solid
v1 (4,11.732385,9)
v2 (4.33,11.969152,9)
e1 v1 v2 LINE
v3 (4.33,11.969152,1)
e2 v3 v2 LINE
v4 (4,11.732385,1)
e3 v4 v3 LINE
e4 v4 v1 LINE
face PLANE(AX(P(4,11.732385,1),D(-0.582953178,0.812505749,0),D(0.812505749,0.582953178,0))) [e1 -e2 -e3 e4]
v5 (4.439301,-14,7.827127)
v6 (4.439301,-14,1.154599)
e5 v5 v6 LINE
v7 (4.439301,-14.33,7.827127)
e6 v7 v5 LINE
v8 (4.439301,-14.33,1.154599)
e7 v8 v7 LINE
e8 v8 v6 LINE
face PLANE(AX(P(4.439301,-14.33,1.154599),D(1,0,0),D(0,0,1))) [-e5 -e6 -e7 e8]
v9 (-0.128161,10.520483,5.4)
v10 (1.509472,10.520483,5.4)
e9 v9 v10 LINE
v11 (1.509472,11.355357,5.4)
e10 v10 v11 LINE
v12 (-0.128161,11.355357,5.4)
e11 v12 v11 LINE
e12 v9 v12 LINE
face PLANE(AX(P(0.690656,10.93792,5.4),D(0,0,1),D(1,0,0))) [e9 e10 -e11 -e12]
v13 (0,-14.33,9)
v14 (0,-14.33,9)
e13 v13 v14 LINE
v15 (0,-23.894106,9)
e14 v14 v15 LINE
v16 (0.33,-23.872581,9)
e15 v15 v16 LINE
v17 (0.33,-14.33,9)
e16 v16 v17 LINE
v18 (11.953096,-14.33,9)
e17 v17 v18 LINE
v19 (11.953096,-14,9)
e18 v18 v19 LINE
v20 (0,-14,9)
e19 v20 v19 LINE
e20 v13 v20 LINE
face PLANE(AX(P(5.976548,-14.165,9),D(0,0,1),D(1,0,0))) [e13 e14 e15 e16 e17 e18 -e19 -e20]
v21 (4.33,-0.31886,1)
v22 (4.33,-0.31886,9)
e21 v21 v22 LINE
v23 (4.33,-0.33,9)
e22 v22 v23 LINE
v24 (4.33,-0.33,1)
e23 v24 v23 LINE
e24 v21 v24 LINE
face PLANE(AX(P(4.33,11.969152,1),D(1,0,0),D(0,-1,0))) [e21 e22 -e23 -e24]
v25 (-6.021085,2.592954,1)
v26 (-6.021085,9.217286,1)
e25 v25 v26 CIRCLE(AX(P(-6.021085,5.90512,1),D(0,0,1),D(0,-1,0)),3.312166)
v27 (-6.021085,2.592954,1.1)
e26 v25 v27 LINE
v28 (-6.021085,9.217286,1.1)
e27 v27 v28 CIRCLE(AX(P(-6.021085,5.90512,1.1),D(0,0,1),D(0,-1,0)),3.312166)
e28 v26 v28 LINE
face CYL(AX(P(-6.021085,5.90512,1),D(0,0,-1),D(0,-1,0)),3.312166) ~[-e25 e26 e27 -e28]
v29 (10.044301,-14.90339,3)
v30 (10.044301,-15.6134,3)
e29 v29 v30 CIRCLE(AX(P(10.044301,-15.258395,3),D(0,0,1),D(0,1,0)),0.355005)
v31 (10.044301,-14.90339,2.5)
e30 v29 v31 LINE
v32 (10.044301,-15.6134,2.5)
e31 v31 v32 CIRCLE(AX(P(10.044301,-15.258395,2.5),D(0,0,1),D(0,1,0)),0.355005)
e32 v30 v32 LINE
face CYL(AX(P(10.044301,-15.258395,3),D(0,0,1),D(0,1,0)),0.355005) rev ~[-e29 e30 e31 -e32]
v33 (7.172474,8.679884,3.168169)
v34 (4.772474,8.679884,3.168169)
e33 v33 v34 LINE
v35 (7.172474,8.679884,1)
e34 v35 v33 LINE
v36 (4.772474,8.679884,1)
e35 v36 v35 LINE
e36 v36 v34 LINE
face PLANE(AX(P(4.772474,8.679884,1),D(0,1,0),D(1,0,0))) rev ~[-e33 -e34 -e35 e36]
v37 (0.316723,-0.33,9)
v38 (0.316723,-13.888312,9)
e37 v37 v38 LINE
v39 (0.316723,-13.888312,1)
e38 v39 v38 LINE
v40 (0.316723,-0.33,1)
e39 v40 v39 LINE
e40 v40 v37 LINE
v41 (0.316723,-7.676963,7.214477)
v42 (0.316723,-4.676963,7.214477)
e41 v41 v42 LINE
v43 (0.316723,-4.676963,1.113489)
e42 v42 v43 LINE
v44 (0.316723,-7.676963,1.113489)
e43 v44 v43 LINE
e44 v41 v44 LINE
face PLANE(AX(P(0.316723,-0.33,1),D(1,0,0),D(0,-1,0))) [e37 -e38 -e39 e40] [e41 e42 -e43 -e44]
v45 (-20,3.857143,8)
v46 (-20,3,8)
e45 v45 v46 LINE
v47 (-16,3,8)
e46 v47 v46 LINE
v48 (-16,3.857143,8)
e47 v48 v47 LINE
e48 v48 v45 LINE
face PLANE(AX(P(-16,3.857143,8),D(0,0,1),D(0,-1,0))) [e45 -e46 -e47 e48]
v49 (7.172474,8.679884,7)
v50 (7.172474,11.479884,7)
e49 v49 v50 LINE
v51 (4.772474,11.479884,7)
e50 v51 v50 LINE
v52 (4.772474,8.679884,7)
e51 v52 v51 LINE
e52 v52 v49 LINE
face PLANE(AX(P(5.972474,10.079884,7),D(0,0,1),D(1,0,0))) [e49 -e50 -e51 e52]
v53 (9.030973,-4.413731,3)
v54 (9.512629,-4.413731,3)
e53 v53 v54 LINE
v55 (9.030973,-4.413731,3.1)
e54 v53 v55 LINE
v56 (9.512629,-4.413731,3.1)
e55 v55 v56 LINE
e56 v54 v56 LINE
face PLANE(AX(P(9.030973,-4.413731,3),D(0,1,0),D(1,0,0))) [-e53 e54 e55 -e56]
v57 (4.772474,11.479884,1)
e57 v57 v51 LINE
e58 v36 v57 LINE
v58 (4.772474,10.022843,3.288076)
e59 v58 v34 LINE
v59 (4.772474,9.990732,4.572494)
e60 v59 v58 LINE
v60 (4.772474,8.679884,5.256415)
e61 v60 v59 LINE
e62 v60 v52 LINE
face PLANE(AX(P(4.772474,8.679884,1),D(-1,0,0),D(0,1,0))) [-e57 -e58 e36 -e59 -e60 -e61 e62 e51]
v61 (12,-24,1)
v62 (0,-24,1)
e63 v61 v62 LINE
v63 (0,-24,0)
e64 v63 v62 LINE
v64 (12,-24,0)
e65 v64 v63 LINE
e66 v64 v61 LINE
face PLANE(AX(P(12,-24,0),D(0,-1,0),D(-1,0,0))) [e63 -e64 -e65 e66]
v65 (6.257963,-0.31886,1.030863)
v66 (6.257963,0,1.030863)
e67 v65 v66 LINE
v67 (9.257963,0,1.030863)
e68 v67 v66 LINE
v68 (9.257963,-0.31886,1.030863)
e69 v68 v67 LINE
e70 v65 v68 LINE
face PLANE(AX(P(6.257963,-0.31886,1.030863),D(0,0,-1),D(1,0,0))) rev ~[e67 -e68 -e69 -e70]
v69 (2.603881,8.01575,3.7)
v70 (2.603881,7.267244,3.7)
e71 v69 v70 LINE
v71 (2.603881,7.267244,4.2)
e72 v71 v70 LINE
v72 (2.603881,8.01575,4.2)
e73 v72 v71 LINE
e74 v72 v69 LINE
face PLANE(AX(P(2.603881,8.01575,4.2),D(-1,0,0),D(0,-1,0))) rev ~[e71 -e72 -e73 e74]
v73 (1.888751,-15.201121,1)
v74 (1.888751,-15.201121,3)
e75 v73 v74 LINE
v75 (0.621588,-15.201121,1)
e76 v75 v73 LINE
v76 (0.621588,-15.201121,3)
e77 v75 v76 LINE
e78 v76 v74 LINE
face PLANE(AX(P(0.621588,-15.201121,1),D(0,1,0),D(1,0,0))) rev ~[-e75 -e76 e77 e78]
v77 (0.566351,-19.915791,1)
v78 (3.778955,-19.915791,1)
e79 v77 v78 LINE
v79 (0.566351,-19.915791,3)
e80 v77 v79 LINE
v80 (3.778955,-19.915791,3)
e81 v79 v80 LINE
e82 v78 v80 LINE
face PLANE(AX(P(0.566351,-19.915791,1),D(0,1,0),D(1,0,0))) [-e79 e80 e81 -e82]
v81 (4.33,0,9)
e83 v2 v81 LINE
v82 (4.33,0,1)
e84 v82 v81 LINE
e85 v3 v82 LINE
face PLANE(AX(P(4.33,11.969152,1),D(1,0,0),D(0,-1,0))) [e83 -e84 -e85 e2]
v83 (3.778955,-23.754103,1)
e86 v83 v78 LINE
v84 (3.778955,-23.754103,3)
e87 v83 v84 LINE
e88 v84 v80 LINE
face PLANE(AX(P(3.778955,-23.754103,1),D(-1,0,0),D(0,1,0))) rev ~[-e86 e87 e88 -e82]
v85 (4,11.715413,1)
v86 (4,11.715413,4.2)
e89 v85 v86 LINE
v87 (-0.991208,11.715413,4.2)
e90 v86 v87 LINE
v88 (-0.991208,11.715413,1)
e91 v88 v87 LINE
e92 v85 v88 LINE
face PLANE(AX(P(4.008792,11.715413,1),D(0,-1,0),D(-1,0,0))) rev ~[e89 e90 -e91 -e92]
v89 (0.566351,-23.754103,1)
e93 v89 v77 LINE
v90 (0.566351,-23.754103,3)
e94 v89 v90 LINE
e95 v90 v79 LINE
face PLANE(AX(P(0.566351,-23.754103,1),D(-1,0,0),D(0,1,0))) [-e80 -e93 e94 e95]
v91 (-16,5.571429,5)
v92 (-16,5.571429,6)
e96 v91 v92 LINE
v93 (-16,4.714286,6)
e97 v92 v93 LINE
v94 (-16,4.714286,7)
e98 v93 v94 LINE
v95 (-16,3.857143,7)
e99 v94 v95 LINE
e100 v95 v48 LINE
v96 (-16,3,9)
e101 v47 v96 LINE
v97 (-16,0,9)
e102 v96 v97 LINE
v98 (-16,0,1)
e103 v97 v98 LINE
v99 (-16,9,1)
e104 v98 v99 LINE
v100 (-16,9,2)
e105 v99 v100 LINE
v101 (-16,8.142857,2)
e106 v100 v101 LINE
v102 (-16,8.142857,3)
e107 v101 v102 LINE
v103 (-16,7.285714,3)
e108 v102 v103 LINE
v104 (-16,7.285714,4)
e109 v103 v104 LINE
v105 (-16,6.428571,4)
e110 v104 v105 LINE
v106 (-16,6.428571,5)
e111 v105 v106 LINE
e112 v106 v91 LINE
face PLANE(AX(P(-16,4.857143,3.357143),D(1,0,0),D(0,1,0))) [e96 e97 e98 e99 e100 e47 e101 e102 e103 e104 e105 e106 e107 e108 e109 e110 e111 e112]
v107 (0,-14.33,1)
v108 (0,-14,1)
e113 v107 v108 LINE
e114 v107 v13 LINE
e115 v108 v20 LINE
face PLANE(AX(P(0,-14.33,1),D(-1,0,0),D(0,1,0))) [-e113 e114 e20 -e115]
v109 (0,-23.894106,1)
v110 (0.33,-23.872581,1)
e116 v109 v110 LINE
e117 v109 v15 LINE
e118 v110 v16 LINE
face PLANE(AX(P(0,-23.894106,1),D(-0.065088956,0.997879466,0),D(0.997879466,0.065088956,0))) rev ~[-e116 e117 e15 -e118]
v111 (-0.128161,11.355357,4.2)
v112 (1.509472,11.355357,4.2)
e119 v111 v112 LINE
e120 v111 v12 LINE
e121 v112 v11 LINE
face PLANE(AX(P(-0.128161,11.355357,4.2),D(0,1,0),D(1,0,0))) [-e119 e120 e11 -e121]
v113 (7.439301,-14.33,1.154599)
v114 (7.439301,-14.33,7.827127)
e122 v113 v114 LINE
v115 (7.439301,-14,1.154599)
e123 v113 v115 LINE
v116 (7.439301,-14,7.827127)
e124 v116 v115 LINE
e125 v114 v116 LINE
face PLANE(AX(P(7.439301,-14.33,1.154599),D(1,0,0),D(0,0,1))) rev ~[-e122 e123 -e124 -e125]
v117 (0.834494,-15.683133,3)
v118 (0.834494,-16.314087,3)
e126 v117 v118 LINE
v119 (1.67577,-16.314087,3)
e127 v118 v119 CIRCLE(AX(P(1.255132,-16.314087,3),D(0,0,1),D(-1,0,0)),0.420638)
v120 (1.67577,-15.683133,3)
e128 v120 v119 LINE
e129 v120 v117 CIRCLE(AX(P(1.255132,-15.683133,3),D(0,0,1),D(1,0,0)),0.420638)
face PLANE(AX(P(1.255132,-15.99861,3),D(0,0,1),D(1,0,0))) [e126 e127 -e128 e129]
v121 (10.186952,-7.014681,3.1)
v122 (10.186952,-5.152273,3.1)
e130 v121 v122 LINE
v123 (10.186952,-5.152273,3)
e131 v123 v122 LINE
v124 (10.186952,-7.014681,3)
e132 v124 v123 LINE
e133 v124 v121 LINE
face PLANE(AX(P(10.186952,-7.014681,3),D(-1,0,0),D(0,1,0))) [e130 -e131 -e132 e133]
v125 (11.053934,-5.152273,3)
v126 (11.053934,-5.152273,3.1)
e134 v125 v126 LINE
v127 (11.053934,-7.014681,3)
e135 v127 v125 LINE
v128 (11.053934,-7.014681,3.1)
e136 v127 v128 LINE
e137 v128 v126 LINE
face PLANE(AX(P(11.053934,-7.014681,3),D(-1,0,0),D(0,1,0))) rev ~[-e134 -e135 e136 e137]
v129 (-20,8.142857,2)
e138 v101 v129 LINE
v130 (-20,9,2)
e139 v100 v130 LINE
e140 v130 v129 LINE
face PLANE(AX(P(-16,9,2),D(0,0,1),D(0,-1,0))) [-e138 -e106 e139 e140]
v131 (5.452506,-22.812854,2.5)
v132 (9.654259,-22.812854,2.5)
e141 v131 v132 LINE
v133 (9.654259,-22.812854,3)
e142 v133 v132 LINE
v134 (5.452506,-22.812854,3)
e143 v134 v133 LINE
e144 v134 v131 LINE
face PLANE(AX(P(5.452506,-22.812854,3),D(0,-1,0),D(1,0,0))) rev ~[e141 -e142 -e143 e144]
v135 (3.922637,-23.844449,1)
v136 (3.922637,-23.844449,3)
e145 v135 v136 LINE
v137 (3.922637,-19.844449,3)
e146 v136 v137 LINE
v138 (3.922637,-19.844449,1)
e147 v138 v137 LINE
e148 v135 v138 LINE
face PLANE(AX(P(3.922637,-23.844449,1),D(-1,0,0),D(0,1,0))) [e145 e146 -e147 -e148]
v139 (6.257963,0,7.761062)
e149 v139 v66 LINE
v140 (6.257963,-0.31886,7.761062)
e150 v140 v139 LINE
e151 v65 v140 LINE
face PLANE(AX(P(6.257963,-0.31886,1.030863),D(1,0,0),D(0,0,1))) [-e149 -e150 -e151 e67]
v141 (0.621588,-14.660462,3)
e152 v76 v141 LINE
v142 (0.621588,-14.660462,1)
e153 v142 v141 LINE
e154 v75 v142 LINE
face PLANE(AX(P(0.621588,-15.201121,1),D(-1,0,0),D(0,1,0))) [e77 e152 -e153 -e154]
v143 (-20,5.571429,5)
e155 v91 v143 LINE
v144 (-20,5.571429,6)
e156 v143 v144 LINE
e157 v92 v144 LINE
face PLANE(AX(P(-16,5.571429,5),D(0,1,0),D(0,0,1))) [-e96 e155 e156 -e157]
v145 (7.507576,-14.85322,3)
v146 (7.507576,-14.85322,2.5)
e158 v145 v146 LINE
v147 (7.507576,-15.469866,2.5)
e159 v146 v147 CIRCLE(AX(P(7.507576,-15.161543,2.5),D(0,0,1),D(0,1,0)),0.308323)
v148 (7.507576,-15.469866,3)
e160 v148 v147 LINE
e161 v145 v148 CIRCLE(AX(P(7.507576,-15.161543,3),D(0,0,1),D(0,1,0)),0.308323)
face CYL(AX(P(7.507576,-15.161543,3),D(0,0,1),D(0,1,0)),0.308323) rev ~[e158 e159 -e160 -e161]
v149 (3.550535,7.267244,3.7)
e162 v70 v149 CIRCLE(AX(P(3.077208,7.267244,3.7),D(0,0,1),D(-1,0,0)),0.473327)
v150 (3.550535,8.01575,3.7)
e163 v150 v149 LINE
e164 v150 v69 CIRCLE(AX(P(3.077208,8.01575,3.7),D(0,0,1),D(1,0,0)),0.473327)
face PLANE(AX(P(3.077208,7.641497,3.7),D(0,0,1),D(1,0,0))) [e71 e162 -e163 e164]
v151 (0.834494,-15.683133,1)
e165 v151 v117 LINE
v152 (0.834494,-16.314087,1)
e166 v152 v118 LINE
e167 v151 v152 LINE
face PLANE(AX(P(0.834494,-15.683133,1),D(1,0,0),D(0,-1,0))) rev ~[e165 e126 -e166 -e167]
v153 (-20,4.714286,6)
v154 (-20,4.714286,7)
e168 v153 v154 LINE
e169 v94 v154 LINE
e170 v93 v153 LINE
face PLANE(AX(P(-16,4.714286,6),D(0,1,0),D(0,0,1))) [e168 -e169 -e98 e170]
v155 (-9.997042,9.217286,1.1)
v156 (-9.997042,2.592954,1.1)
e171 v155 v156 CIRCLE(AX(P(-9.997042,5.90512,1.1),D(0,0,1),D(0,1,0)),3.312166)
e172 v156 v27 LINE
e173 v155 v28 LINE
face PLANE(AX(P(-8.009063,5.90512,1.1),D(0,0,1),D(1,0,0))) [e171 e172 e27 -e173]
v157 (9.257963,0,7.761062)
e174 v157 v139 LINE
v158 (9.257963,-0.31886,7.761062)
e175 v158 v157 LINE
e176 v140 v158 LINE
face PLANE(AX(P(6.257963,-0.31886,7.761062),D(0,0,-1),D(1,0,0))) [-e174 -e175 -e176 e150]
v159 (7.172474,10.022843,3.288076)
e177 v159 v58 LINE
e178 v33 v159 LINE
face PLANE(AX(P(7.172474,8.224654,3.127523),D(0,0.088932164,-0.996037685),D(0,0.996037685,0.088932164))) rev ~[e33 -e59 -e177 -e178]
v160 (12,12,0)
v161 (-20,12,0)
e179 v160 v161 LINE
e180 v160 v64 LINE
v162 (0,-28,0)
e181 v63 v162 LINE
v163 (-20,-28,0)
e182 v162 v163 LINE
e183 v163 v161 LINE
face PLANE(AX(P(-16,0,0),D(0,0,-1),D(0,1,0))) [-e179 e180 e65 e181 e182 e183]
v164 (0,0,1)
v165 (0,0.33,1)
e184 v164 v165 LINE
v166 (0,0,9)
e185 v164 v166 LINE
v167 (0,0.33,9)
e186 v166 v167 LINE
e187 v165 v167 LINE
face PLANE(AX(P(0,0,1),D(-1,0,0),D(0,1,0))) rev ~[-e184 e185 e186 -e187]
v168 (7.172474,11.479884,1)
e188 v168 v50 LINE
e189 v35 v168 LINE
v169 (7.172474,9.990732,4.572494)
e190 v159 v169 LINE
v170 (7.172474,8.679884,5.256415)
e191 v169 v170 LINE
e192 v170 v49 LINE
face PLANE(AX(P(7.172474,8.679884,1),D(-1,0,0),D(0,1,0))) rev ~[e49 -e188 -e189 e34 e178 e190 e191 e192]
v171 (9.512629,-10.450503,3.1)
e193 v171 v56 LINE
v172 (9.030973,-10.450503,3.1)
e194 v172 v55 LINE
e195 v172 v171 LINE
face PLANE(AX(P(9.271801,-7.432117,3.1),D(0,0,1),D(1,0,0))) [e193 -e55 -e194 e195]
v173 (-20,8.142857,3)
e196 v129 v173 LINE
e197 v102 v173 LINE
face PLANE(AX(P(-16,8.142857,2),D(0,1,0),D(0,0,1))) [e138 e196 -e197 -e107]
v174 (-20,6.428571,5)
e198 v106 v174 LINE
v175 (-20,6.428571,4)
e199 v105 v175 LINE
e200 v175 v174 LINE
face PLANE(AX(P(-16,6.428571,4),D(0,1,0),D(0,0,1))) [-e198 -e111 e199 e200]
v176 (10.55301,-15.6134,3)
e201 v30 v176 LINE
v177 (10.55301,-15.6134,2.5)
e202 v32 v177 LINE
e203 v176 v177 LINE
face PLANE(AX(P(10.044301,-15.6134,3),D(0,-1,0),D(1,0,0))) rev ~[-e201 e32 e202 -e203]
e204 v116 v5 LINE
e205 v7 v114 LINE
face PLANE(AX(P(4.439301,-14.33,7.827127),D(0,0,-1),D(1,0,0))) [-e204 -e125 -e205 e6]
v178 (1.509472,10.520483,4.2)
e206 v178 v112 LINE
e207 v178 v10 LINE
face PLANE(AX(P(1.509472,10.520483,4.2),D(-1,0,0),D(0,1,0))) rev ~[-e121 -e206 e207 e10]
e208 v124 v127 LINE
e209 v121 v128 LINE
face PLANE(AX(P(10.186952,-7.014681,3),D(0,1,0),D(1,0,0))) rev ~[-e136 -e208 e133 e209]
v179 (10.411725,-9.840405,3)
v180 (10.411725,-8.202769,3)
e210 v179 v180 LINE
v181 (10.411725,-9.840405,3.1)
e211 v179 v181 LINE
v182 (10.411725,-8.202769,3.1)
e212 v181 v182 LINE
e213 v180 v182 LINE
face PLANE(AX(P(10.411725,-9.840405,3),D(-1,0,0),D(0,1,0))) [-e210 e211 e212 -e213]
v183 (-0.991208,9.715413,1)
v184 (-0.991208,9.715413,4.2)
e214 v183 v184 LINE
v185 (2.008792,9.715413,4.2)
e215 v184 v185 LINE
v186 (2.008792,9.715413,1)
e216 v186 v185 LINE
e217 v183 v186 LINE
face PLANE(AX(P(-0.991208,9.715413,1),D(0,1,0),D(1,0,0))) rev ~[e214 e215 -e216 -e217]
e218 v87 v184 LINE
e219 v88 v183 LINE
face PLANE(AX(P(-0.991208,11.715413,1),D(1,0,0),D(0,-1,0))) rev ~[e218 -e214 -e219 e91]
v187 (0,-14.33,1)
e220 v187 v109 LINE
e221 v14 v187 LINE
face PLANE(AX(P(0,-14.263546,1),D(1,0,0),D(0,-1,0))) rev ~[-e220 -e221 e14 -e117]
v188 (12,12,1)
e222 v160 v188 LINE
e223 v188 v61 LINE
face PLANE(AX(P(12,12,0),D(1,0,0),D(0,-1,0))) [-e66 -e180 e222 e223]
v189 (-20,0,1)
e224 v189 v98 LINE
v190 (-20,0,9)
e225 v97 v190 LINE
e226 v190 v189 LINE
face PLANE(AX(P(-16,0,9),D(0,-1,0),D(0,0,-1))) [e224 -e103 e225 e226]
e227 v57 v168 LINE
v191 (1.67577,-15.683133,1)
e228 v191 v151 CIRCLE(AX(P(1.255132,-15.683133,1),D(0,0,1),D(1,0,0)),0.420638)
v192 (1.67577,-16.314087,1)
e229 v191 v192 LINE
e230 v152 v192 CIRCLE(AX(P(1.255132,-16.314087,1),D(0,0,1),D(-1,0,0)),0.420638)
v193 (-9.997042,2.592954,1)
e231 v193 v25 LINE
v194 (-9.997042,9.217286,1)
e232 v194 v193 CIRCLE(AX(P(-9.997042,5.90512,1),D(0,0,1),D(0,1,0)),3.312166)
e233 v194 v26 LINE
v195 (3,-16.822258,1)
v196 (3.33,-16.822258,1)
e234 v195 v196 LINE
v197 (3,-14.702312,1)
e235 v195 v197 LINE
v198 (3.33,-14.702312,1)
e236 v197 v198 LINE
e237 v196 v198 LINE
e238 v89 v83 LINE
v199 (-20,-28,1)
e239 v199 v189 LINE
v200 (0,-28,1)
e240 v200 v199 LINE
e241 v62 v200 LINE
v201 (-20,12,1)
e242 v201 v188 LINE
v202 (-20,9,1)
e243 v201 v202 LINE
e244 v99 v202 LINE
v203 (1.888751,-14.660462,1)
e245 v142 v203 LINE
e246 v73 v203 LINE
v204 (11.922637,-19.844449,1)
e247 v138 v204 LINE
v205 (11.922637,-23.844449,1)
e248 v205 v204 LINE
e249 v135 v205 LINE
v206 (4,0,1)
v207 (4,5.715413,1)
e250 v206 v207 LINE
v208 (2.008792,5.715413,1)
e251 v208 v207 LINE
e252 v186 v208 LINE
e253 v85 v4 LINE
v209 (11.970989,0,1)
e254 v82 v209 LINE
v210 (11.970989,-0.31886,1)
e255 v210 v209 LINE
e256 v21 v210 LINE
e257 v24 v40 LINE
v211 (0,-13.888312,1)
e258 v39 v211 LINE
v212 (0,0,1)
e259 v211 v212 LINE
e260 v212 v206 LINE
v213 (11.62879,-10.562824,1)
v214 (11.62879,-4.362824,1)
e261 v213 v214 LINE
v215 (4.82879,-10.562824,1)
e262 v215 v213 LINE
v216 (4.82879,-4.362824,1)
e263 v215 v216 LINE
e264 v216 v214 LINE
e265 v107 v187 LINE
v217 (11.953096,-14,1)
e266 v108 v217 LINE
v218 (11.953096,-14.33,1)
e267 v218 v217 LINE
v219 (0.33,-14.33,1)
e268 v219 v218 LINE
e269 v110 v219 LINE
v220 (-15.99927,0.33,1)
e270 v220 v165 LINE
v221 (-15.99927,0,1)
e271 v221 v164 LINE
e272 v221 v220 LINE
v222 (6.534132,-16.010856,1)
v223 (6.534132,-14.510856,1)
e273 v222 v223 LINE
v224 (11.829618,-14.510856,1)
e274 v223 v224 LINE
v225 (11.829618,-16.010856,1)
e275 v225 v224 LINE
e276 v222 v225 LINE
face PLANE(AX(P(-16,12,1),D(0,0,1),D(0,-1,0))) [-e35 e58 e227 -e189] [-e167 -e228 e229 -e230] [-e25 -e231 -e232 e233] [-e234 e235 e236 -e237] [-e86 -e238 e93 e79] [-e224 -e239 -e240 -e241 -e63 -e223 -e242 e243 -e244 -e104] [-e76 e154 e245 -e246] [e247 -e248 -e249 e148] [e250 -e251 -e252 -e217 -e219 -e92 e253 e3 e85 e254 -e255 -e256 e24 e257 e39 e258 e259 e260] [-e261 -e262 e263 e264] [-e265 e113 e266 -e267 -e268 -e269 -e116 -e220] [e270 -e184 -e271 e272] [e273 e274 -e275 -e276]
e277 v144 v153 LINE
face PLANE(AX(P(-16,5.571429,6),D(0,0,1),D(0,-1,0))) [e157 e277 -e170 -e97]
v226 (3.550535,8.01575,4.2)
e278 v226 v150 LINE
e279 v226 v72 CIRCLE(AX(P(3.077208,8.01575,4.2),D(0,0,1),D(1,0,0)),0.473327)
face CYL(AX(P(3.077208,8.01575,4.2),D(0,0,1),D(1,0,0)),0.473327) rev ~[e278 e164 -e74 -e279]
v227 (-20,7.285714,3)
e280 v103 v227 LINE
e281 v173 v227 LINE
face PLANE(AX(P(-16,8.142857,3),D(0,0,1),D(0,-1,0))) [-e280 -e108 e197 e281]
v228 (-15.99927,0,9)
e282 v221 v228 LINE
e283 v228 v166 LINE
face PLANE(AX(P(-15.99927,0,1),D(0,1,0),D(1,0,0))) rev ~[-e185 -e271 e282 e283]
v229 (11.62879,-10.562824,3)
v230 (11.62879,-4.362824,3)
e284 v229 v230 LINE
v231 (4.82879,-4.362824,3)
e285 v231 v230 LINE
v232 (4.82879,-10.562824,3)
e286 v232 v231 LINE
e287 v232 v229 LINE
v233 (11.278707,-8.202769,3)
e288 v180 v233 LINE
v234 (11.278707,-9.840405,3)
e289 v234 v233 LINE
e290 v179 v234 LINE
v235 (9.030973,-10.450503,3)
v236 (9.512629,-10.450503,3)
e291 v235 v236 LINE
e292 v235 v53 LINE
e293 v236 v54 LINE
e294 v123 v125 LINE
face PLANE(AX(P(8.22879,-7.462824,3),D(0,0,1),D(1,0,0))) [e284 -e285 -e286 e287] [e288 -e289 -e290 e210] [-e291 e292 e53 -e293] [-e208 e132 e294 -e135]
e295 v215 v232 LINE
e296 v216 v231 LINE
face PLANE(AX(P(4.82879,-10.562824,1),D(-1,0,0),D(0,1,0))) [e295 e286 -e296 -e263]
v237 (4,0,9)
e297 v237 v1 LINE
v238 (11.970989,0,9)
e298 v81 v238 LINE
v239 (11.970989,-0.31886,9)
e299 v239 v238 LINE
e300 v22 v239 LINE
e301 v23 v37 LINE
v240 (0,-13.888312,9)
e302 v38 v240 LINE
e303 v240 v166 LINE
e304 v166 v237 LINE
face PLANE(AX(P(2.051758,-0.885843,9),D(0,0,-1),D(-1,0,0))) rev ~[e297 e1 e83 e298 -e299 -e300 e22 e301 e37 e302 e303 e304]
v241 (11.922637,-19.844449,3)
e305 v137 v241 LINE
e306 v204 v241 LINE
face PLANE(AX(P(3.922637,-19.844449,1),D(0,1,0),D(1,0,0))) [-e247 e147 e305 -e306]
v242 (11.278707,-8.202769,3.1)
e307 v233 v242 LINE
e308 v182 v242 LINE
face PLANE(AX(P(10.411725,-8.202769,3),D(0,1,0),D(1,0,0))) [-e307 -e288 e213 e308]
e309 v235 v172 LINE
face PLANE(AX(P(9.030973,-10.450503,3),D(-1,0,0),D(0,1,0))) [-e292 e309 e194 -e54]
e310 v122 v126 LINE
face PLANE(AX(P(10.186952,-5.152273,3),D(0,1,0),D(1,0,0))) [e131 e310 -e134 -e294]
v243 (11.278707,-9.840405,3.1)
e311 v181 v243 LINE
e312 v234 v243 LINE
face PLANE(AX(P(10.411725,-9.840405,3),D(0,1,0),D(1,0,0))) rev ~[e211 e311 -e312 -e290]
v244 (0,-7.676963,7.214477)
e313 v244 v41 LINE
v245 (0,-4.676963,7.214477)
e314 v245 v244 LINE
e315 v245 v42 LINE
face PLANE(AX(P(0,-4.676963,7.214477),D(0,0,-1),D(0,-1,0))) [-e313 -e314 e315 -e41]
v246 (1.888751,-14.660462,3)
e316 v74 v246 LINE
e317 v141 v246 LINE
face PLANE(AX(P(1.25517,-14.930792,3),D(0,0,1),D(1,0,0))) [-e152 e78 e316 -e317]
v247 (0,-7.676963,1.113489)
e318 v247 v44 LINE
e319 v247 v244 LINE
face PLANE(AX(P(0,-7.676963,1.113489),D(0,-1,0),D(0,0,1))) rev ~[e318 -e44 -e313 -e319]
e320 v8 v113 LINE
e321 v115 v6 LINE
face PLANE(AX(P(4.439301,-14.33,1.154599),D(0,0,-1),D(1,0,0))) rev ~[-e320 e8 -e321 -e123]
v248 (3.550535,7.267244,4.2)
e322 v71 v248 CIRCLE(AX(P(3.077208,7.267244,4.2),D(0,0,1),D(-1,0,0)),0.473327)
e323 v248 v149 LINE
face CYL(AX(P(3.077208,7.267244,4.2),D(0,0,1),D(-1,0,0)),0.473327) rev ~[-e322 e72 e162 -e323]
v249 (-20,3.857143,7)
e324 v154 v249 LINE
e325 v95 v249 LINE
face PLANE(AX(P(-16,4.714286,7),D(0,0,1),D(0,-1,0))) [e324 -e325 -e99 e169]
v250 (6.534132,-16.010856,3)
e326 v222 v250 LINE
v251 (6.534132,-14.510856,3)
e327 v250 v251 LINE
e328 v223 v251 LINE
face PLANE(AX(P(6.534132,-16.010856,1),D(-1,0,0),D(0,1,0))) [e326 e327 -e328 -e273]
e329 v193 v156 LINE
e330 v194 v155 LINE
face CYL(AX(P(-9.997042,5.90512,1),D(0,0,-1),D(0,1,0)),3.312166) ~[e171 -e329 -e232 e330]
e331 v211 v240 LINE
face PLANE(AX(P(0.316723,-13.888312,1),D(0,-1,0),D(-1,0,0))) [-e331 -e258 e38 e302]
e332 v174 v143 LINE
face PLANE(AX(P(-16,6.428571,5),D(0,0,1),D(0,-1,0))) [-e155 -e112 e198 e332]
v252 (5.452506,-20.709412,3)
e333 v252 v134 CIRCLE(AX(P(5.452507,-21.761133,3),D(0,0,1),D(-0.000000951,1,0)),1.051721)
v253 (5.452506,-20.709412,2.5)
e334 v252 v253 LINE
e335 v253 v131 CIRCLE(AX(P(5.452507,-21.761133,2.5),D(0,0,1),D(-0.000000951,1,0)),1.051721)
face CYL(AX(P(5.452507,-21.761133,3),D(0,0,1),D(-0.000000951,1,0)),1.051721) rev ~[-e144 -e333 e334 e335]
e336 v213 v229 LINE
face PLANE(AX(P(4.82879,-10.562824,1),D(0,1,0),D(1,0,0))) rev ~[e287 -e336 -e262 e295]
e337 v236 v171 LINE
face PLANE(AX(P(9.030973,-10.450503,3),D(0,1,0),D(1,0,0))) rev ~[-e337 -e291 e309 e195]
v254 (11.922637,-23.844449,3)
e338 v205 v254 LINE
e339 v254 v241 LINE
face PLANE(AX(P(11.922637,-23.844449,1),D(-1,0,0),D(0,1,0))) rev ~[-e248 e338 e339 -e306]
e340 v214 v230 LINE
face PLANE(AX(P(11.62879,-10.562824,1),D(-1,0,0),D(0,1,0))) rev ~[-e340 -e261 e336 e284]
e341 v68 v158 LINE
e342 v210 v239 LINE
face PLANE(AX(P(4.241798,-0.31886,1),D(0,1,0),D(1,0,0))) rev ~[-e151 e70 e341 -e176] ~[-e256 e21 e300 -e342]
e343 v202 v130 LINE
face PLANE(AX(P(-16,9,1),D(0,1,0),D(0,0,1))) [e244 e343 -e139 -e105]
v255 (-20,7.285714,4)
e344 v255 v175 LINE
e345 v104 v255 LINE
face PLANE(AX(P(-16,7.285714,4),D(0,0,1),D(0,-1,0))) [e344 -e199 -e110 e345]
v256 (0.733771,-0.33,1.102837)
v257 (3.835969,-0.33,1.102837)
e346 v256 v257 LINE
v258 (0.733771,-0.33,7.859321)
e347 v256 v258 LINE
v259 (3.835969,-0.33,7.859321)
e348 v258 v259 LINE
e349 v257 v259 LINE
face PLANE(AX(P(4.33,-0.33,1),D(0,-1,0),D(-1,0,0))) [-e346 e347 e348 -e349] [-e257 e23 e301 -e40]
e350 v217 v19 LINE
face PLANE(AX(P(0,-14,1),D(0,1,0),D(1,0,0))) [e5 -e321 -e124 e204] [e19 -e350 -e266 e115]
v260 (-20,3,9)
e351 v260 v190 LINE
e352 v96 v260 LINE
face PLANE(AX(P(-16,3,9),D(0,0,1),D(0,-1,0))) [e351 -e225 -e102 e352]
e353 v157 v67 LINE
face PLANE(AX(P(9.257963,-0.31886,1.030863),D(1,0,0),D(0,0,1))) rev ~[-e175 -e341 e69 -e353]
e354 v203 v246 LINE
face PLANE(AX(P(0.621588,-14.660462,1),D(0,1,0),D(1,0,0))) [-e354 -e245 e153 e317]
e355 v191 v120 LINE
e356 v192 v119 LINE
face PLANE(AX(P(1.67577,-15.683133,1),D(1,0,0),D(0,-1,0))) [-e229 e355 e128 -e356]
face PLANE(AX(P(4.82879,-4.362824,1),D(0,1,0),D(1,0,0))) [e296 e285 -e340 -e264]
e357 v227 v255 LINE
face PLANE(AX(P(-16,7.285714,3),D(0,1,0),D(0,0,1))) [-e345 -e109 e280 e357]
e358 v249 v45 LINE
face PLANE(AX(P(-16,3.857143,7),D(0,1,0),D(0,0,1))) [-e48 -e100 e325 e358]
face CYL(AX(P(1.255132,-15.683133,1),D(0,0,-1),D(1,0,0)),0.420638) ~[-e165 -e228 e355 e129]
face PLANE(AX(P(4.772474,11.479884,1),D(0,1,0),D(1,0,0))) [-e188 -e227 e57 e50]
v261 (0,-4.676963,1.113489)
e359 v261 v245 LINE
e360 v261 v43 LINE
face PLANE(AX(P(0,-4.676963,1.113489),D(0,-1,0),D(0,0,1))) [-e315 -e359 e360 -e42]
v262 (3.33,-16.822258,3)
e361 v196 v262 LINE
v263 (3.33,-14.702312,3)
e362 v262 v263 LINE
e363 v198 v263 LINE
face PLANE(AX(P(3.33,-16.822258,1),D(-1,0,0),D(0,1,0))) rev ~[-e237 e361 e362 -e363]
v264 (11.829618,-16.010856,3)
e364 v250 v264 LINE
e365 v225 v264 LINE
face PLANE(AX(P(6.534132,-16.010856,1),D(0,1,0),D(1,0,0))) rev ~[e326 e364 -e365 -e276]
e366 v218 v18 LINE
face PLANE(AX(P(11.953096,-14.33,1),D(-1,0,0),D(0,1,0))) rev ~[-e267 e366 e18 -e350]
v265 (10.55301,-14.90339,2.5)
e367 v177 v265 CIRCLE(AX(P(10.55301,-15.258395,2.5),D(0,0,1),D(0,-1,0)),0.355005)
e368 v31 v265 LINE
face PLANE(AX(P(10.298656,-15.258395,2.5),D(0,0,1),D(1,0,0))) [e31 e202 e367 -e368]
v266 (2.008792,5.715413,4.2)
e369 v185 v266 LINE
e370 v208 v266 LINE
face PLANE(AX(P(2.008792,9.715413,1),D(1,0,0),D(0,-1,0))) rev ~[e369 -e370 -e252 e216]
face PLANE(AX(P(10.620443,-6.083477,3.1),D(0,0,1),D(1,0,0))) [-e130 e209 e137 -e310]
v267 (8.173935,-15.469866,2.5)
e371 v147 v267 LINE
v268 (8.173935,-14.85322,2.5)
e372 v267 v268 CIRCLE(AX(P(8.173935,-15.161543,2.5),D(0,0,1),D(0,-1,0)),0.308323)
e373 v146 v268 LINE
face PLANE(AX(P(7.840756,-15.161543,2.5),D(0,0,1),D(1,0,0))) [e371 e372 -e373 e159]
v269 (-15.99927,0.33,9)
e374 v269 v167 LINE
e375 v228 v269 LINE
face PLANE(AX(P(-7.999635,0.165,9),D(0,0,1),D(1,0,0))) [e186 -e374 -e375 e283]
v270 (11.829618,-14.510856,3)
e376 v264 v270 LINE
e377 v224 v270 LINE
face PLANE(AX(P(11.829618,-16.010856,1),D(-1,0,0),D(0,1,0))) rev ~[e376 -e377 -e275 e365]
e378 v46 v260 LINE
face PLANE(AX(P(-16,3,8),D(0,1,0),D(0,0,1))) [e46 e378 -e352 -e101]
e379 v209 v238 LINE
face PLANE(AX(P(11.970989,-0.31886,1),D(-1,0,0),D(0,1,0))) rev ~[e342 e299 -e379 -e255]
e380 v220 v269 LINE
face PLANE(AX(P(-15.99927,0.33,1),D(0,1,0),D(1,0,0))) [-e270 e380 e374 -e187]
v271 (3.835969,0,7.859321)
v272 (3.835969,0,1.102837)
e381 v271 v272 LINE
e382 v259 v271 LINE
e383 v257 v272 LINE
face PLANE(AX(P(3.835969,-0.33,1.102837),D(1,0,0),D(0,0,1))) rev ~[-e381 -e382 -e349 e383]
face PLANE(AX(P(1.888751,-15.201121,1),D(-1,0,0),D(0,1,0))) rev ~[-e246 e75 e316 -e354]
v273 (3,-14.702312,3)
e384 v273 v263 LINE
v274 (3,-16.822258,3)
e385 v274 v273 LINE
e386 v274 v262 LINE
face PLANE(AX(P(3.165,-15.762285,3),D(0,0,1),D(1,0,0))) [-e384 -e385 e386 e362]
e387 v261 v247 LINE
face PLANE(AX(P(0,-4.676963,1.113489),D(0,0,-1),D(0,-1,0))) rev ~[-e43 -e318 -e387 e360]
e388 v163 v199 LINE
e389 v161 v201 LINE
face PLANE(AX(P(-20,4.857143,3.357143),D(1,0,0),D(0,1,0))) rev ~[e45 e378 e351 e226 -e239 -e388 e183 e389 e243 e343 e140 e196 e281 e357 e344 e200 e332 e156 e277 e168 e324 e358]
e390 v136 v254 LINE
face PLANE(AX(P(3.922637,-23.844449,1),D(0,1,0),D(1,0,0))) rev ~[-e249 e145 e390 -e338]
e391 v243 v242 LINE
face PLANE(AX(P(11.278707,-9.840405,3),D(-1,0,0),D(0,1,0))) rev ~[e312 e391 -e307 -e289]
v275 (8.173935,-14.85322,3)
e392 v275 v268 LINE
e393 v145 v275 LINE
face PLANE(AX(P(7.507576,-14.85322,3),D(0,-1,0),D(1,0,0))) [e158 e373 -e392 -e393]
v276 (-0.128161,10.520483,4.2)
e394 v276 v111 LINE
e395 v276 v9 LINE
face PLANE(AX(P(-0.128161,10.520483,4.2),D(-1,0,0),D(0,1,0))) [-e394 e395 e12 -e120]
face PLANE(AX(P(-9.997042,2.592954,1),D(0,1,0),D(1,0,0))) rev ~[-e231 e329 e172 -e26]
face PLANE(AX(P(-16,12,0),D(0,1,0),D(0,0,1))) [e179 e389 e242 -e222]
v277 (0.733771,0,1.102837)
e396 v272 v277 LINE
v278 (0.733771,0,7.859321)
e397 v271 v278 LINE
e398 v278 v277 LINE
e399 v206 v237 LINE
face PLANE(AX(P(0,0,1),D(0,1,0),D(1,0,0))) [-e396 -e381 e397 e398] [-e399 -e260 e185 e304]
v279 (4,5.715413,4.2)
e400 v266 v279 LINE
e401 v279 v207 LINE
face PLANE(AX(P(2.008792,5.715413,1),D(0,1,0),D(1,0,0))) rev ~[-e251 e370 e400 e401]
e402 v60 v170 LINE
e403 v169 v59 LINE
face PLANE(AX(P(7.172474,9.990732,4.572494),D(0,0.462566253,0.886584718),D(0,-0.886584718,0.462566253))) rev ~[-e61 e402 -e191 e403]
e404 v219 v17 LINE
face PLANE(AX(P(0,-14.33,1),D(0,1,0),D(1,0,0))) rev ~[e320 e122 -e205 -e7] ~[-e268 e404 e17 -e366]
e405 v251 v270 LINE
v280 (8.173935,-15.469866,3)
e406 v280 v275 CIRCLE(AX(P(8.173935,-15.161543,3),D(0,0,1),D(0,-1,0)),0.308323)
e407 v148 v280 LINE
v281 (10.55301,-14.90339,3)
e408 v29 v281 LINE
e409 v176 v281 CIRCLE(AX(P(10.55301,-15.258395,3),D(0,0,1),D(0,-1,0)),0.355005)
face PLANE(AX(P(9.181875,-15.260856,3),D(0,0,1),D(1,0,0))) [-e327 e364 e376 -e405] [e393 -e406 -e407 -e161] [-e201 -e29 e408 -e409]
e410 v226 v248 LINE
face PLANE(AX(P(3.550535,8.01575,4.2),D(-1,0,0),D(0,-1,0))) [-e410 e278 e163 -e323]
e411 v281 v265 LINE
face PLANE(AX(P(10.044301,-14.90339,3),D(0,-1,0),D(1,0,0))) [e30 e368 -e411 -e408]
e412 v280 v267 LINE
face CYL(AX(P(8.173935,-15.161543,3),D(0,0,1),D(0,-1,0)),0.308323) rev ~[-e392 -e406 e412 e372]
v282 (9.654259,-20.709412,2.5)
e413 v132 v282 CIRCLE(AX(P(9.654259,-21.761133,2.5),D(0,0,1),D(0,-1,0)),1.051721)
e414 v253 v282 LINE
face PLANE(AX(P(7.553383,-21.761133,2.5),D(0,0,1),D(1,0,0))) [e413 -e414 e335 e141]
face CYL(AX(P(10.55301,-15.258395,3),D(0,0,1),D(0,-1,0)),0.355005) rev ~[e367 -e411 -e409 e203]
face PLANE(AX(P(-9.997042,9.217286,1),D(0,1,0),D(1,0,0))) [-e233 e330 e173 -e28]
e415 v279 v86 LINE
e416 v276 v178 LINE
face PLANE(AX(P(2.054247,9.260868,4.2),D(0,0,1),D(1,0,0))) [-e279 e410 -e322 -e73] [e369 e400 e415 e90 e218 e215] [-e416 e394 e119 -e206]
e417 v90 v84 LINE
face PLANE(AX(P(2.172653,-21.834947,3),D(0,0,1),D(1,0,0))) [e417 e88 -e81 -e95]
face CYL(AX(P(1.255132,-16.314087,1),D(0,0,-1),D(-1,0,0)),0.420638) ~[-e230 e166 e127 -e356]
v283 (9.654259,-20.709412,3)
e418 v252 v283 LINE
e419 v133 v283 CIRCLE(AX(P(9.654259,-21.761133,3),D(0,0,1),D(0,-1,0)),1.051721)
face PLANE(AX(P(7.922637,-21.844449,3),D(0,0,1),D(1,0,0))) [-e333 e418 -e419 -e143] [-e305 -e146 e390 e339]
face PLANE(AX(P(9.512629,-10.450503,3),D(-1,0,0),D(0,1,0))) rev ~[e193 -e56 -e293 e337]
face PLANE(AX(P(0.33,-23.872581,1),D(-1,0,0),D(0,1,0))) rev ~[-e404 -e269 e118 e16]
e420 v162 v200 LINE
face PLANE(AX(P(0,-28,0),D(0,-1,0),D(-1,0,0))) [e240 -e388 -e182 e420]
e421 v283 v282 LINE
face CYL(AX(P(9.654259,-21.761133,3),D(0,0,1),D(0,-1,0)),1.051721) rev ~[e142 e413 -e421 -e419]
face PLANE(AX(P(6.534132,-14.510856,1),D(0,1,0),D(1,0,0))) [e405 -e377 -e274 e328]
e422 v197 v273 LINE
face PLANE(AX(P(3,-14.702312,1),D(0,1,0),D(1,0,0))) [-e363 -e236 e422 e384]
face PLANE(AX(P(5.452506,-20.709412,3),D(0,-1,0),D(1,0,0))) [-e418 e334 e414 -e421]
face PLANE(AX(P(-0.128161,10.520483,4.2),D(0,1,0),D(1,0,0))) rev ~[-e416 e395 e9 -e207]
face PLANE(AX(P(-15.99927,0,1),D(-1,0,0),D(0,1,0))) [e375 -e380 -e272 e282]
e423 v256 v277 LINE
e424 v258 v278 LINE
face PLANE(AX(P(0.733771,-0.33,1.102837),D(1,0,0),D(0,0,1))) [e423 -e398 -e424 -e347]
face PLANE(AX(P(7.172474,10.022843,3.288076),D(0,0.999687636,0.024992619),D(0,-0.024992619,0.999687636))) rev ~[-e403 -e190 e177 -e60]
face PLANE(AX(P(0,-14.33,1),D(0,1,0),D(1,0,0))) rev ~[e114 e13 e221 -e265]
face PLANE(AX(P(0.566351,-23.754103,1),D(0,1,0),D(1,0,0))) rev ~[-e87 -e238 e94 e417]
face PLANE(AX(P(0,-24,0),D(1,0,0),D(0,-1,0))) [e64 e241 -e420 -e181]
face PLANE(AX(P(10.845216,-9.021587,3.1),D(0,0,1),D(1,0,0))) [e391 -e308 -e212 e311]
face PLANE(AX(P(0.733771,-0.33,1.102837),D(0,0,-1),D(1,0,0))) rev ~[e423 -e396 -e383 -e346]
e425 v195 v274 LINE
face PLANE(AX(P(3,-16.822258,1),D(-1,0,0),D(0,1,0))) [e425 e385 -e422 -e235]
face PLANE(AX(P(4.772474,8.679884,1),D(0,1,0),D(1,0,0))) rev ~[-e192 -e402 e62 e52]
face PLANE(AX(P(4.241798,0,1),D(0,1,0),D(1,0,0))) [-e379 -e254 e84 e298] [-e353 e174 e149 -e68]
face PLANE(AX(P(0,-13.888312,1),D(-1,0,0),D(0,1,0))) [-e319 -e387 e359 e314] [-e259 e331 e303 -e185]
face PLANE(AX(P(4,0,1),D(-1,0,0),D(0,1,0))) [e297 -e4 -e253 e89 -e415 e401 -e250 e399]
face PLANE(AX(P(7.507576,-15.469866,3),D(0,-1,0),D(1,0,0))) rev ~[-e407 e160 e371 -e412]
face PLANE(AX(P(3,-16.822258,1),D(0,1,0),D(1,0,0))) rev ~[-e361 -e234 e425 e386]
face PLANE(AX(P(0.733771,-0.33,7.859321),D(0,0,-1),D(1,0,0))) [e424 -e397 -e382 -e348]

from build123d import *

# Parameters (mm, degrees)
PAD_DEPTH       = 1
PAD004_DEPTH    = 8
PAD005_DEPTH    = 4
SKETCH014_W     = 7.729191
SKETCH014_H     = 0.31886
PAD006_DEPTH    = 8
SKETCH015_W     = 11.953097
SKETCH015_H     = 0.33
PAD007_DEPTH    = 8
SKETCH016_W     = 3
SKETCH016_H     = 6.672529
POCKET_DEPTH    = 5
SKETCH017_W     = 3.102198
SKETCH017_H     = 6.756484
POCKET001_DEPTH = 5
SKETCH018_W     = 15.99927
SKETCH018_H     = 0.33
PAD008_DEPTH    = 8
SKETCH020_W     = 3
SKETCH020_H     = 6.100988
POCKET002_DEPTH = 5
PAD009_DEPTH    = 8
SKETCH005_W     = 5.295486
SKETCH005_H     = 1.5
SKETCH005_W_2   = 8
SKETCH005_H_2   = 4
SKETCH005_W_3   = 3.212604
SKETCH005_H_3   = 3.838312
SKETCH005_W_4   = 1.267163
SKETCH005_H_4   = 0.540659
SKETCH005_W_5   = 0.33
SKETCH005_H_5   = 2.119946
PAD010_DEPTH    = 2
POCKET003_DEPTH = 0.5
SKETCH024_W     = 6.8
SKETCH024_H     = 6.2
PAD011_DEPTH    = 2
SKETCH025_W     = 2.4
SKETCH025_H     = 2.8
PAD012_DEPTH    = 6
POCKET004_DEPTH = 2.5
SKETCH028_W     = 3
SKETCH028_H     = 6.730199
POCKET005_DEPTH = 5
PAD013_DEPTH    = 3.2
POCKET006_DEPTH = 0.5
SKETCH031_W     = 1.637633
SKETCH031_H     = 0.834874
PAD014_DEPTH    = 1.2
PAD015_DEPTH    = 0.1
SKETCH033_W     = 0.866982
SKETCH033_H     = 1.862408
SKETCH033_W_2   = 0.866983
SKETCH033_H_2   = 1.637636
SKETCH033_W_3   = 0.481657
SKETCH033_H_3   = 6.036772
PAD016_DEPTH    = 0.1


with BuildPart() as part:
    # Sketch → Pad (new body)
    with BuildSketch(Plane.XY):
        Polygon((0, -28), (-20, -28), (-20, 0), (-16, 0), (-16, 12), (12, 12), (12, -24), (0, -24), align=None)
    extrude(amount=PAD_DEPTH)

    # Sketch007 → Pad004 (join)
    with BuildSketch(Plane.XY.offset(1)):
        Polygon((0.316723, -0.33), (0.316723, -13.888312), (0, -13.888312), (0, 0), (4, 0), (4, 11.732385), (4.33, 11.969152), (4.33, -0.33), align=None)
    extrude(amount=PAD004_DEPTH)

    # Sketch004 (on Face4 of Pad) → Pad005 (join)
    with BuildSketch(Plane(origin=(-16, 0, 0), x_dir=(0, -1, 0), z_dir=(-1, 0, 0))):
        Polygon((-12, 0), (-12, 1), (-9, 1), (-9, 2), (-8.142857, 2), (-8.142857, 3), (-7.285714, 3), (-7.285714, 4), (-6.428571, 4), (-6.428571, 5), (-5.571429, 5), (-5.571429, 6), (-4.714286, 6), (-4.714286, 7), (-3.857143, 7), (-3.857143, 8), (-3, 8), (-3, 9), (0, 9), (0, 0), align=None)
    extrude(amount=PAD005_DEPTH)

    # Sketch014 (on Face5 of Pad005) → Pad006 (join)
    with BuildSketch(Plane.XY.offset(1)):
        with Locations((8.106394, -0.15943)):
            Rectangle(SKETCH014_W, SKETCH014_H)
    extrude(amount=PAD006_DEPTH)

    # Sketch015 (on Face5 of Pad006) → Pad007 (join)
    with BuildSketch(Plane.XY.offset(1)):
        with Locations((5.976548, -14.165)):
            Rectangle(SKETCH015_W, SKETCH015_H)
    extrude(amount=PAD007_DEPTH)

    # Sketch016 (on Face16 of Pad007) → Pocket (cut)
    with BuildSketch(Plane.XZ.offset(14.33)):
        with Locations((5.939301, 4.490863)):
            Rectangle(SKETCH016_W, SKETCH016_H)
    extrude(amount=-POCKET_DEPTH, mode=Mode.SUBTRACT)

    # Sketch017 (on Face19 of Pocket) → Pocket001 (cut)
    with BuildSketch(Plane.XZ.offset(0.33)):
        with Locations((2.28487, 4.481079)):
            Rectangle(SKETCH017_W, SKETCH017_H)
    extrude(amount=-POCKET001_DEPTH, mode=Mode.SUBTRACT)

    # Sketch018 (on Face5 of Pocket001) → Pad008 (join)
    with BuildSketch(Plane.XY.offset(1)):
        with Locations((-7.999635, 0.165)):
            Rectangle(SKETCH018_W, SKETCH018_H)
    extrude(amount=PAD008_DEPTH)

    # Sketch020 (on Face20 of Pad008) → Pocket002 (cut)
    with BuildSketch(Plane(origin=(0, 0, 0), x_dir=(0, -1, 0), z_dir=(-1, 0, 0))):
        with Locations((6.176963, 4.163983)):
            Rectangle(SKETCH020_W, SKETCH020_H)
    extrude(amount=-POCKET002_DEPTH, mode=Mode.SUBTRACT)

    # Sketch021 (on Face5 of Pocket002) → Pad009 (join)
    with BuildSketch(Plane.XY.offset(1)):
        Polygon((0, -14.263546), (0, -23.894106), (0.33, -23.872581), (0.33, -14.263546), align=None)
    extrude(amount=PAD009_DEPTH)

    # Sketch005 (on Face5 of Pad009) → Pad010 (join)
    with BuildSketch(Plane.XY.offset(1)):
        with Locations((9.181875, -15.260856)):
            Rectangle(SKETCH005_W, SKETCH005_H)
        with Locations((7.922637, -21.844449)):
            Rectangle(SKETCH005_W_2, SKETCH005_H_2)
        with Locations((2.172653, -21.834947)):
            Rectangle(SKETCH005_W_3, SKETCH005_H_3)
        with BuildLine():
            ThreePointArc((1.67577, -15.683133), (1.255132, -15.262495), (0.834494, -15.683133))
            Line((0.834494, -15.683133), (0.834494, -16.314087))
            ThreePointArc((0.834494, -16.314087), (1.255132, -16.734725), (1.67577, -16.314087))
            Line((1.67577, -15.683133), (1.67577, -16.314087))
        make_face()
        with Locations((1.25517, -14.930792)):
            Rectangle(SKETCH005_W_4, SKETCH005_H_4)
        with Locations((3.165, -15.762285)):
            Rectangle(SKETCH005_W_5, SKETCH005_H_5)
    extrude(amount=PAD010_DEPTH)

    # Sketch010 (on Face79 of Pad010) → Pocket003 (cut)
    with BuildSketch(Plane.XY.offset(3)):
        with BuildLine():
            ThreePointArc((5.452506, -20.709412), (4.400786, -21.761133), (5.452506, -22.812854))
            Line((5.452506, -22.812854), (9.654259, -22.812854))
            ThreePointArc((9.654259, -22.812854), (10.70598, -21.761133), (9.654259, -20.709412))
            Line((5.452506, -20.709412), (9.654259, -20.709412))
        make_face()
        with BuildLine():
            ThreePointArc((7.507576, -14.85322), (7.199253, -15.161543), (7.507576, -15.469866))
            Line((7.507576, -15.469866), (8.173935, -15.469866))
            ThreePointArc((8.173935, -15.469866), (8.482258, -15.161543), (8.173935, -14.85322))
            Line((7.507576, -14.85322), (8.173935, -14.85322))
        make_face()
        with BuildLine():
            ThreePointArc((10.044301, -14.90339), (9.689296, -15.258395), (10.044301, -15.6134))
            Line((10.044301, -15.6134), (10.55301, -15.6134))
            ThreePointArc((10.55301, -15.6134), (10.908015, -15.258395), (10.55301, -14.90339))
            Line((10.044301, -14.90339), (10.55301, -14.90339))
        make_face()
    extrude(amount=-POCKET003_DEPTH, mode=Mode.SUBTRACT)

    # Sketch024 (on Face5 of Pocket003) → Pad011 (join)
    with BuildSketch(Plane.XY.offset(1)):
        with Locations((8.22879, -7.462824)):
            Rectangle(SKETCH024_W, SKETCH024_H)
    extrude(amount=PAD011_DEPTH)

    # Sketch025 (on Face5 of Pad011) → Pad012 (join)
    with BuildSketch(Plane.XY.offset(1)):
        with Locations((5.972474, 10.079884)):
            Rectangle(SKETCH025_W, SKETCH025_H)
    extrude(amount=PAD012_DEPTH)

    # Sketch026 (on Face63 of Pad012) → Pocket004 (cut)
    with BuildSketch(Plane.YZ.offset(7.172474)):
        Polygon((8.224654, 3.127523), (10.022843, 3.288076), (9.990732, 4.572494), (8.51365, 5.343146), align=None)
    extrude(amount=-POCKET004_DEPTH, mode=Mode.SUBTRACT)

    # Sketch028 (on Face59 of Pocket004) → Pocket005 (cut)
    with BuildSketch(Plane.XZ.offset(0.31886)):
        with Locations((7.757963, 4.395962)):
            Rectangle(SKETCH028_W, SKETCH028_H)
    extrude(amount=-POCKET005_DEPTH, mode=Mode.SUBTRACT)

    # Sketch029 (on Face5 of Pocket005) → Pad013 (join)
    with BuildSketch(Plane.XY.offset(1)):
        Polygon((-0.991208, 11.715413), (-0.991208, 9.715413), (2.008792, 9.715413), (2.008792, 5.715413), (4.008792, 5.715413), (4.008792, 11.715413), align=None)
    extrude(amount=PAD013_DEPTH)

    # Sketch030 (on Face115 of Pad013) → Pocket006 (cut)
    with BuildSketch(Plane.XY.offset(4.2)):
        with BuildLine():
            ThreePointArc((3.550535, 8.01575), (3.077208, 8.489077), (2.603881, 8.01575))
            Line((2.603881, 8.01575), (2.603881, 7.267244))
            ThreePointArc((2.603881, 7.267244), (3.077208, 6.793917), (3.550535, 7.267244))
            Line((3.550535, 8.01575), (3.550535, 7.267244))
        make_face()
    extrude(amount=-POCKET006_DEPTH, mode=Mode.SUBTRACT)

    # Sketch031 (on Face115 of Pocket006) → Pad014 (join)
    with BuildSketch(Plane.XY.offset(4.2)):
        with Locations((0.690656, 10.93792)):
            Rectangle(SKETCH031_W, SKETCH031_H)
    extrude(amount=PAD014_DEPTH)

    # Sketch032 (on Face5 of Pad014) → Pad015 (join)
    with BuildSketch(Plane.XY.offset(1)):
        with BuildLine():
            ThreePointArc((-9.997042, 9.217286), (-13.309208, 5.90512), (-9.997042, 2.592954))
            Line((-9.997042, 2.592954), (-6.021085, 2.592954))
            ThreePointArc((-6.021085, 2.592954), (-2.708919, 5.90512), (-6.021085, 9.217286))
            Line((-9.997042, 9.217286), (-6.021085, 9.217286))
        make_face()
    extrude(amount=PAD015_DEPTH)

    # Sketch033 (on Face109 of Pad015) → Pad016 (join)
    with BuildSketch(Plane.XY.offset(3)):
        with Locations((10.620443, -6.083477)):
            Rectangle(SKETCH033_W, SKETCH033_H)
        with Locations((10.845216, -9.021587)):
            Rectangle(SKETCH033_W_2, SKETCH033_H_2)
        with Locations((9.271801, -7.432117)):
            Rectangle(SKETCH033_W_3, SKETCH033_H_3)
    extrude(amount=PAD016_DEPTH)


solid = part.part
